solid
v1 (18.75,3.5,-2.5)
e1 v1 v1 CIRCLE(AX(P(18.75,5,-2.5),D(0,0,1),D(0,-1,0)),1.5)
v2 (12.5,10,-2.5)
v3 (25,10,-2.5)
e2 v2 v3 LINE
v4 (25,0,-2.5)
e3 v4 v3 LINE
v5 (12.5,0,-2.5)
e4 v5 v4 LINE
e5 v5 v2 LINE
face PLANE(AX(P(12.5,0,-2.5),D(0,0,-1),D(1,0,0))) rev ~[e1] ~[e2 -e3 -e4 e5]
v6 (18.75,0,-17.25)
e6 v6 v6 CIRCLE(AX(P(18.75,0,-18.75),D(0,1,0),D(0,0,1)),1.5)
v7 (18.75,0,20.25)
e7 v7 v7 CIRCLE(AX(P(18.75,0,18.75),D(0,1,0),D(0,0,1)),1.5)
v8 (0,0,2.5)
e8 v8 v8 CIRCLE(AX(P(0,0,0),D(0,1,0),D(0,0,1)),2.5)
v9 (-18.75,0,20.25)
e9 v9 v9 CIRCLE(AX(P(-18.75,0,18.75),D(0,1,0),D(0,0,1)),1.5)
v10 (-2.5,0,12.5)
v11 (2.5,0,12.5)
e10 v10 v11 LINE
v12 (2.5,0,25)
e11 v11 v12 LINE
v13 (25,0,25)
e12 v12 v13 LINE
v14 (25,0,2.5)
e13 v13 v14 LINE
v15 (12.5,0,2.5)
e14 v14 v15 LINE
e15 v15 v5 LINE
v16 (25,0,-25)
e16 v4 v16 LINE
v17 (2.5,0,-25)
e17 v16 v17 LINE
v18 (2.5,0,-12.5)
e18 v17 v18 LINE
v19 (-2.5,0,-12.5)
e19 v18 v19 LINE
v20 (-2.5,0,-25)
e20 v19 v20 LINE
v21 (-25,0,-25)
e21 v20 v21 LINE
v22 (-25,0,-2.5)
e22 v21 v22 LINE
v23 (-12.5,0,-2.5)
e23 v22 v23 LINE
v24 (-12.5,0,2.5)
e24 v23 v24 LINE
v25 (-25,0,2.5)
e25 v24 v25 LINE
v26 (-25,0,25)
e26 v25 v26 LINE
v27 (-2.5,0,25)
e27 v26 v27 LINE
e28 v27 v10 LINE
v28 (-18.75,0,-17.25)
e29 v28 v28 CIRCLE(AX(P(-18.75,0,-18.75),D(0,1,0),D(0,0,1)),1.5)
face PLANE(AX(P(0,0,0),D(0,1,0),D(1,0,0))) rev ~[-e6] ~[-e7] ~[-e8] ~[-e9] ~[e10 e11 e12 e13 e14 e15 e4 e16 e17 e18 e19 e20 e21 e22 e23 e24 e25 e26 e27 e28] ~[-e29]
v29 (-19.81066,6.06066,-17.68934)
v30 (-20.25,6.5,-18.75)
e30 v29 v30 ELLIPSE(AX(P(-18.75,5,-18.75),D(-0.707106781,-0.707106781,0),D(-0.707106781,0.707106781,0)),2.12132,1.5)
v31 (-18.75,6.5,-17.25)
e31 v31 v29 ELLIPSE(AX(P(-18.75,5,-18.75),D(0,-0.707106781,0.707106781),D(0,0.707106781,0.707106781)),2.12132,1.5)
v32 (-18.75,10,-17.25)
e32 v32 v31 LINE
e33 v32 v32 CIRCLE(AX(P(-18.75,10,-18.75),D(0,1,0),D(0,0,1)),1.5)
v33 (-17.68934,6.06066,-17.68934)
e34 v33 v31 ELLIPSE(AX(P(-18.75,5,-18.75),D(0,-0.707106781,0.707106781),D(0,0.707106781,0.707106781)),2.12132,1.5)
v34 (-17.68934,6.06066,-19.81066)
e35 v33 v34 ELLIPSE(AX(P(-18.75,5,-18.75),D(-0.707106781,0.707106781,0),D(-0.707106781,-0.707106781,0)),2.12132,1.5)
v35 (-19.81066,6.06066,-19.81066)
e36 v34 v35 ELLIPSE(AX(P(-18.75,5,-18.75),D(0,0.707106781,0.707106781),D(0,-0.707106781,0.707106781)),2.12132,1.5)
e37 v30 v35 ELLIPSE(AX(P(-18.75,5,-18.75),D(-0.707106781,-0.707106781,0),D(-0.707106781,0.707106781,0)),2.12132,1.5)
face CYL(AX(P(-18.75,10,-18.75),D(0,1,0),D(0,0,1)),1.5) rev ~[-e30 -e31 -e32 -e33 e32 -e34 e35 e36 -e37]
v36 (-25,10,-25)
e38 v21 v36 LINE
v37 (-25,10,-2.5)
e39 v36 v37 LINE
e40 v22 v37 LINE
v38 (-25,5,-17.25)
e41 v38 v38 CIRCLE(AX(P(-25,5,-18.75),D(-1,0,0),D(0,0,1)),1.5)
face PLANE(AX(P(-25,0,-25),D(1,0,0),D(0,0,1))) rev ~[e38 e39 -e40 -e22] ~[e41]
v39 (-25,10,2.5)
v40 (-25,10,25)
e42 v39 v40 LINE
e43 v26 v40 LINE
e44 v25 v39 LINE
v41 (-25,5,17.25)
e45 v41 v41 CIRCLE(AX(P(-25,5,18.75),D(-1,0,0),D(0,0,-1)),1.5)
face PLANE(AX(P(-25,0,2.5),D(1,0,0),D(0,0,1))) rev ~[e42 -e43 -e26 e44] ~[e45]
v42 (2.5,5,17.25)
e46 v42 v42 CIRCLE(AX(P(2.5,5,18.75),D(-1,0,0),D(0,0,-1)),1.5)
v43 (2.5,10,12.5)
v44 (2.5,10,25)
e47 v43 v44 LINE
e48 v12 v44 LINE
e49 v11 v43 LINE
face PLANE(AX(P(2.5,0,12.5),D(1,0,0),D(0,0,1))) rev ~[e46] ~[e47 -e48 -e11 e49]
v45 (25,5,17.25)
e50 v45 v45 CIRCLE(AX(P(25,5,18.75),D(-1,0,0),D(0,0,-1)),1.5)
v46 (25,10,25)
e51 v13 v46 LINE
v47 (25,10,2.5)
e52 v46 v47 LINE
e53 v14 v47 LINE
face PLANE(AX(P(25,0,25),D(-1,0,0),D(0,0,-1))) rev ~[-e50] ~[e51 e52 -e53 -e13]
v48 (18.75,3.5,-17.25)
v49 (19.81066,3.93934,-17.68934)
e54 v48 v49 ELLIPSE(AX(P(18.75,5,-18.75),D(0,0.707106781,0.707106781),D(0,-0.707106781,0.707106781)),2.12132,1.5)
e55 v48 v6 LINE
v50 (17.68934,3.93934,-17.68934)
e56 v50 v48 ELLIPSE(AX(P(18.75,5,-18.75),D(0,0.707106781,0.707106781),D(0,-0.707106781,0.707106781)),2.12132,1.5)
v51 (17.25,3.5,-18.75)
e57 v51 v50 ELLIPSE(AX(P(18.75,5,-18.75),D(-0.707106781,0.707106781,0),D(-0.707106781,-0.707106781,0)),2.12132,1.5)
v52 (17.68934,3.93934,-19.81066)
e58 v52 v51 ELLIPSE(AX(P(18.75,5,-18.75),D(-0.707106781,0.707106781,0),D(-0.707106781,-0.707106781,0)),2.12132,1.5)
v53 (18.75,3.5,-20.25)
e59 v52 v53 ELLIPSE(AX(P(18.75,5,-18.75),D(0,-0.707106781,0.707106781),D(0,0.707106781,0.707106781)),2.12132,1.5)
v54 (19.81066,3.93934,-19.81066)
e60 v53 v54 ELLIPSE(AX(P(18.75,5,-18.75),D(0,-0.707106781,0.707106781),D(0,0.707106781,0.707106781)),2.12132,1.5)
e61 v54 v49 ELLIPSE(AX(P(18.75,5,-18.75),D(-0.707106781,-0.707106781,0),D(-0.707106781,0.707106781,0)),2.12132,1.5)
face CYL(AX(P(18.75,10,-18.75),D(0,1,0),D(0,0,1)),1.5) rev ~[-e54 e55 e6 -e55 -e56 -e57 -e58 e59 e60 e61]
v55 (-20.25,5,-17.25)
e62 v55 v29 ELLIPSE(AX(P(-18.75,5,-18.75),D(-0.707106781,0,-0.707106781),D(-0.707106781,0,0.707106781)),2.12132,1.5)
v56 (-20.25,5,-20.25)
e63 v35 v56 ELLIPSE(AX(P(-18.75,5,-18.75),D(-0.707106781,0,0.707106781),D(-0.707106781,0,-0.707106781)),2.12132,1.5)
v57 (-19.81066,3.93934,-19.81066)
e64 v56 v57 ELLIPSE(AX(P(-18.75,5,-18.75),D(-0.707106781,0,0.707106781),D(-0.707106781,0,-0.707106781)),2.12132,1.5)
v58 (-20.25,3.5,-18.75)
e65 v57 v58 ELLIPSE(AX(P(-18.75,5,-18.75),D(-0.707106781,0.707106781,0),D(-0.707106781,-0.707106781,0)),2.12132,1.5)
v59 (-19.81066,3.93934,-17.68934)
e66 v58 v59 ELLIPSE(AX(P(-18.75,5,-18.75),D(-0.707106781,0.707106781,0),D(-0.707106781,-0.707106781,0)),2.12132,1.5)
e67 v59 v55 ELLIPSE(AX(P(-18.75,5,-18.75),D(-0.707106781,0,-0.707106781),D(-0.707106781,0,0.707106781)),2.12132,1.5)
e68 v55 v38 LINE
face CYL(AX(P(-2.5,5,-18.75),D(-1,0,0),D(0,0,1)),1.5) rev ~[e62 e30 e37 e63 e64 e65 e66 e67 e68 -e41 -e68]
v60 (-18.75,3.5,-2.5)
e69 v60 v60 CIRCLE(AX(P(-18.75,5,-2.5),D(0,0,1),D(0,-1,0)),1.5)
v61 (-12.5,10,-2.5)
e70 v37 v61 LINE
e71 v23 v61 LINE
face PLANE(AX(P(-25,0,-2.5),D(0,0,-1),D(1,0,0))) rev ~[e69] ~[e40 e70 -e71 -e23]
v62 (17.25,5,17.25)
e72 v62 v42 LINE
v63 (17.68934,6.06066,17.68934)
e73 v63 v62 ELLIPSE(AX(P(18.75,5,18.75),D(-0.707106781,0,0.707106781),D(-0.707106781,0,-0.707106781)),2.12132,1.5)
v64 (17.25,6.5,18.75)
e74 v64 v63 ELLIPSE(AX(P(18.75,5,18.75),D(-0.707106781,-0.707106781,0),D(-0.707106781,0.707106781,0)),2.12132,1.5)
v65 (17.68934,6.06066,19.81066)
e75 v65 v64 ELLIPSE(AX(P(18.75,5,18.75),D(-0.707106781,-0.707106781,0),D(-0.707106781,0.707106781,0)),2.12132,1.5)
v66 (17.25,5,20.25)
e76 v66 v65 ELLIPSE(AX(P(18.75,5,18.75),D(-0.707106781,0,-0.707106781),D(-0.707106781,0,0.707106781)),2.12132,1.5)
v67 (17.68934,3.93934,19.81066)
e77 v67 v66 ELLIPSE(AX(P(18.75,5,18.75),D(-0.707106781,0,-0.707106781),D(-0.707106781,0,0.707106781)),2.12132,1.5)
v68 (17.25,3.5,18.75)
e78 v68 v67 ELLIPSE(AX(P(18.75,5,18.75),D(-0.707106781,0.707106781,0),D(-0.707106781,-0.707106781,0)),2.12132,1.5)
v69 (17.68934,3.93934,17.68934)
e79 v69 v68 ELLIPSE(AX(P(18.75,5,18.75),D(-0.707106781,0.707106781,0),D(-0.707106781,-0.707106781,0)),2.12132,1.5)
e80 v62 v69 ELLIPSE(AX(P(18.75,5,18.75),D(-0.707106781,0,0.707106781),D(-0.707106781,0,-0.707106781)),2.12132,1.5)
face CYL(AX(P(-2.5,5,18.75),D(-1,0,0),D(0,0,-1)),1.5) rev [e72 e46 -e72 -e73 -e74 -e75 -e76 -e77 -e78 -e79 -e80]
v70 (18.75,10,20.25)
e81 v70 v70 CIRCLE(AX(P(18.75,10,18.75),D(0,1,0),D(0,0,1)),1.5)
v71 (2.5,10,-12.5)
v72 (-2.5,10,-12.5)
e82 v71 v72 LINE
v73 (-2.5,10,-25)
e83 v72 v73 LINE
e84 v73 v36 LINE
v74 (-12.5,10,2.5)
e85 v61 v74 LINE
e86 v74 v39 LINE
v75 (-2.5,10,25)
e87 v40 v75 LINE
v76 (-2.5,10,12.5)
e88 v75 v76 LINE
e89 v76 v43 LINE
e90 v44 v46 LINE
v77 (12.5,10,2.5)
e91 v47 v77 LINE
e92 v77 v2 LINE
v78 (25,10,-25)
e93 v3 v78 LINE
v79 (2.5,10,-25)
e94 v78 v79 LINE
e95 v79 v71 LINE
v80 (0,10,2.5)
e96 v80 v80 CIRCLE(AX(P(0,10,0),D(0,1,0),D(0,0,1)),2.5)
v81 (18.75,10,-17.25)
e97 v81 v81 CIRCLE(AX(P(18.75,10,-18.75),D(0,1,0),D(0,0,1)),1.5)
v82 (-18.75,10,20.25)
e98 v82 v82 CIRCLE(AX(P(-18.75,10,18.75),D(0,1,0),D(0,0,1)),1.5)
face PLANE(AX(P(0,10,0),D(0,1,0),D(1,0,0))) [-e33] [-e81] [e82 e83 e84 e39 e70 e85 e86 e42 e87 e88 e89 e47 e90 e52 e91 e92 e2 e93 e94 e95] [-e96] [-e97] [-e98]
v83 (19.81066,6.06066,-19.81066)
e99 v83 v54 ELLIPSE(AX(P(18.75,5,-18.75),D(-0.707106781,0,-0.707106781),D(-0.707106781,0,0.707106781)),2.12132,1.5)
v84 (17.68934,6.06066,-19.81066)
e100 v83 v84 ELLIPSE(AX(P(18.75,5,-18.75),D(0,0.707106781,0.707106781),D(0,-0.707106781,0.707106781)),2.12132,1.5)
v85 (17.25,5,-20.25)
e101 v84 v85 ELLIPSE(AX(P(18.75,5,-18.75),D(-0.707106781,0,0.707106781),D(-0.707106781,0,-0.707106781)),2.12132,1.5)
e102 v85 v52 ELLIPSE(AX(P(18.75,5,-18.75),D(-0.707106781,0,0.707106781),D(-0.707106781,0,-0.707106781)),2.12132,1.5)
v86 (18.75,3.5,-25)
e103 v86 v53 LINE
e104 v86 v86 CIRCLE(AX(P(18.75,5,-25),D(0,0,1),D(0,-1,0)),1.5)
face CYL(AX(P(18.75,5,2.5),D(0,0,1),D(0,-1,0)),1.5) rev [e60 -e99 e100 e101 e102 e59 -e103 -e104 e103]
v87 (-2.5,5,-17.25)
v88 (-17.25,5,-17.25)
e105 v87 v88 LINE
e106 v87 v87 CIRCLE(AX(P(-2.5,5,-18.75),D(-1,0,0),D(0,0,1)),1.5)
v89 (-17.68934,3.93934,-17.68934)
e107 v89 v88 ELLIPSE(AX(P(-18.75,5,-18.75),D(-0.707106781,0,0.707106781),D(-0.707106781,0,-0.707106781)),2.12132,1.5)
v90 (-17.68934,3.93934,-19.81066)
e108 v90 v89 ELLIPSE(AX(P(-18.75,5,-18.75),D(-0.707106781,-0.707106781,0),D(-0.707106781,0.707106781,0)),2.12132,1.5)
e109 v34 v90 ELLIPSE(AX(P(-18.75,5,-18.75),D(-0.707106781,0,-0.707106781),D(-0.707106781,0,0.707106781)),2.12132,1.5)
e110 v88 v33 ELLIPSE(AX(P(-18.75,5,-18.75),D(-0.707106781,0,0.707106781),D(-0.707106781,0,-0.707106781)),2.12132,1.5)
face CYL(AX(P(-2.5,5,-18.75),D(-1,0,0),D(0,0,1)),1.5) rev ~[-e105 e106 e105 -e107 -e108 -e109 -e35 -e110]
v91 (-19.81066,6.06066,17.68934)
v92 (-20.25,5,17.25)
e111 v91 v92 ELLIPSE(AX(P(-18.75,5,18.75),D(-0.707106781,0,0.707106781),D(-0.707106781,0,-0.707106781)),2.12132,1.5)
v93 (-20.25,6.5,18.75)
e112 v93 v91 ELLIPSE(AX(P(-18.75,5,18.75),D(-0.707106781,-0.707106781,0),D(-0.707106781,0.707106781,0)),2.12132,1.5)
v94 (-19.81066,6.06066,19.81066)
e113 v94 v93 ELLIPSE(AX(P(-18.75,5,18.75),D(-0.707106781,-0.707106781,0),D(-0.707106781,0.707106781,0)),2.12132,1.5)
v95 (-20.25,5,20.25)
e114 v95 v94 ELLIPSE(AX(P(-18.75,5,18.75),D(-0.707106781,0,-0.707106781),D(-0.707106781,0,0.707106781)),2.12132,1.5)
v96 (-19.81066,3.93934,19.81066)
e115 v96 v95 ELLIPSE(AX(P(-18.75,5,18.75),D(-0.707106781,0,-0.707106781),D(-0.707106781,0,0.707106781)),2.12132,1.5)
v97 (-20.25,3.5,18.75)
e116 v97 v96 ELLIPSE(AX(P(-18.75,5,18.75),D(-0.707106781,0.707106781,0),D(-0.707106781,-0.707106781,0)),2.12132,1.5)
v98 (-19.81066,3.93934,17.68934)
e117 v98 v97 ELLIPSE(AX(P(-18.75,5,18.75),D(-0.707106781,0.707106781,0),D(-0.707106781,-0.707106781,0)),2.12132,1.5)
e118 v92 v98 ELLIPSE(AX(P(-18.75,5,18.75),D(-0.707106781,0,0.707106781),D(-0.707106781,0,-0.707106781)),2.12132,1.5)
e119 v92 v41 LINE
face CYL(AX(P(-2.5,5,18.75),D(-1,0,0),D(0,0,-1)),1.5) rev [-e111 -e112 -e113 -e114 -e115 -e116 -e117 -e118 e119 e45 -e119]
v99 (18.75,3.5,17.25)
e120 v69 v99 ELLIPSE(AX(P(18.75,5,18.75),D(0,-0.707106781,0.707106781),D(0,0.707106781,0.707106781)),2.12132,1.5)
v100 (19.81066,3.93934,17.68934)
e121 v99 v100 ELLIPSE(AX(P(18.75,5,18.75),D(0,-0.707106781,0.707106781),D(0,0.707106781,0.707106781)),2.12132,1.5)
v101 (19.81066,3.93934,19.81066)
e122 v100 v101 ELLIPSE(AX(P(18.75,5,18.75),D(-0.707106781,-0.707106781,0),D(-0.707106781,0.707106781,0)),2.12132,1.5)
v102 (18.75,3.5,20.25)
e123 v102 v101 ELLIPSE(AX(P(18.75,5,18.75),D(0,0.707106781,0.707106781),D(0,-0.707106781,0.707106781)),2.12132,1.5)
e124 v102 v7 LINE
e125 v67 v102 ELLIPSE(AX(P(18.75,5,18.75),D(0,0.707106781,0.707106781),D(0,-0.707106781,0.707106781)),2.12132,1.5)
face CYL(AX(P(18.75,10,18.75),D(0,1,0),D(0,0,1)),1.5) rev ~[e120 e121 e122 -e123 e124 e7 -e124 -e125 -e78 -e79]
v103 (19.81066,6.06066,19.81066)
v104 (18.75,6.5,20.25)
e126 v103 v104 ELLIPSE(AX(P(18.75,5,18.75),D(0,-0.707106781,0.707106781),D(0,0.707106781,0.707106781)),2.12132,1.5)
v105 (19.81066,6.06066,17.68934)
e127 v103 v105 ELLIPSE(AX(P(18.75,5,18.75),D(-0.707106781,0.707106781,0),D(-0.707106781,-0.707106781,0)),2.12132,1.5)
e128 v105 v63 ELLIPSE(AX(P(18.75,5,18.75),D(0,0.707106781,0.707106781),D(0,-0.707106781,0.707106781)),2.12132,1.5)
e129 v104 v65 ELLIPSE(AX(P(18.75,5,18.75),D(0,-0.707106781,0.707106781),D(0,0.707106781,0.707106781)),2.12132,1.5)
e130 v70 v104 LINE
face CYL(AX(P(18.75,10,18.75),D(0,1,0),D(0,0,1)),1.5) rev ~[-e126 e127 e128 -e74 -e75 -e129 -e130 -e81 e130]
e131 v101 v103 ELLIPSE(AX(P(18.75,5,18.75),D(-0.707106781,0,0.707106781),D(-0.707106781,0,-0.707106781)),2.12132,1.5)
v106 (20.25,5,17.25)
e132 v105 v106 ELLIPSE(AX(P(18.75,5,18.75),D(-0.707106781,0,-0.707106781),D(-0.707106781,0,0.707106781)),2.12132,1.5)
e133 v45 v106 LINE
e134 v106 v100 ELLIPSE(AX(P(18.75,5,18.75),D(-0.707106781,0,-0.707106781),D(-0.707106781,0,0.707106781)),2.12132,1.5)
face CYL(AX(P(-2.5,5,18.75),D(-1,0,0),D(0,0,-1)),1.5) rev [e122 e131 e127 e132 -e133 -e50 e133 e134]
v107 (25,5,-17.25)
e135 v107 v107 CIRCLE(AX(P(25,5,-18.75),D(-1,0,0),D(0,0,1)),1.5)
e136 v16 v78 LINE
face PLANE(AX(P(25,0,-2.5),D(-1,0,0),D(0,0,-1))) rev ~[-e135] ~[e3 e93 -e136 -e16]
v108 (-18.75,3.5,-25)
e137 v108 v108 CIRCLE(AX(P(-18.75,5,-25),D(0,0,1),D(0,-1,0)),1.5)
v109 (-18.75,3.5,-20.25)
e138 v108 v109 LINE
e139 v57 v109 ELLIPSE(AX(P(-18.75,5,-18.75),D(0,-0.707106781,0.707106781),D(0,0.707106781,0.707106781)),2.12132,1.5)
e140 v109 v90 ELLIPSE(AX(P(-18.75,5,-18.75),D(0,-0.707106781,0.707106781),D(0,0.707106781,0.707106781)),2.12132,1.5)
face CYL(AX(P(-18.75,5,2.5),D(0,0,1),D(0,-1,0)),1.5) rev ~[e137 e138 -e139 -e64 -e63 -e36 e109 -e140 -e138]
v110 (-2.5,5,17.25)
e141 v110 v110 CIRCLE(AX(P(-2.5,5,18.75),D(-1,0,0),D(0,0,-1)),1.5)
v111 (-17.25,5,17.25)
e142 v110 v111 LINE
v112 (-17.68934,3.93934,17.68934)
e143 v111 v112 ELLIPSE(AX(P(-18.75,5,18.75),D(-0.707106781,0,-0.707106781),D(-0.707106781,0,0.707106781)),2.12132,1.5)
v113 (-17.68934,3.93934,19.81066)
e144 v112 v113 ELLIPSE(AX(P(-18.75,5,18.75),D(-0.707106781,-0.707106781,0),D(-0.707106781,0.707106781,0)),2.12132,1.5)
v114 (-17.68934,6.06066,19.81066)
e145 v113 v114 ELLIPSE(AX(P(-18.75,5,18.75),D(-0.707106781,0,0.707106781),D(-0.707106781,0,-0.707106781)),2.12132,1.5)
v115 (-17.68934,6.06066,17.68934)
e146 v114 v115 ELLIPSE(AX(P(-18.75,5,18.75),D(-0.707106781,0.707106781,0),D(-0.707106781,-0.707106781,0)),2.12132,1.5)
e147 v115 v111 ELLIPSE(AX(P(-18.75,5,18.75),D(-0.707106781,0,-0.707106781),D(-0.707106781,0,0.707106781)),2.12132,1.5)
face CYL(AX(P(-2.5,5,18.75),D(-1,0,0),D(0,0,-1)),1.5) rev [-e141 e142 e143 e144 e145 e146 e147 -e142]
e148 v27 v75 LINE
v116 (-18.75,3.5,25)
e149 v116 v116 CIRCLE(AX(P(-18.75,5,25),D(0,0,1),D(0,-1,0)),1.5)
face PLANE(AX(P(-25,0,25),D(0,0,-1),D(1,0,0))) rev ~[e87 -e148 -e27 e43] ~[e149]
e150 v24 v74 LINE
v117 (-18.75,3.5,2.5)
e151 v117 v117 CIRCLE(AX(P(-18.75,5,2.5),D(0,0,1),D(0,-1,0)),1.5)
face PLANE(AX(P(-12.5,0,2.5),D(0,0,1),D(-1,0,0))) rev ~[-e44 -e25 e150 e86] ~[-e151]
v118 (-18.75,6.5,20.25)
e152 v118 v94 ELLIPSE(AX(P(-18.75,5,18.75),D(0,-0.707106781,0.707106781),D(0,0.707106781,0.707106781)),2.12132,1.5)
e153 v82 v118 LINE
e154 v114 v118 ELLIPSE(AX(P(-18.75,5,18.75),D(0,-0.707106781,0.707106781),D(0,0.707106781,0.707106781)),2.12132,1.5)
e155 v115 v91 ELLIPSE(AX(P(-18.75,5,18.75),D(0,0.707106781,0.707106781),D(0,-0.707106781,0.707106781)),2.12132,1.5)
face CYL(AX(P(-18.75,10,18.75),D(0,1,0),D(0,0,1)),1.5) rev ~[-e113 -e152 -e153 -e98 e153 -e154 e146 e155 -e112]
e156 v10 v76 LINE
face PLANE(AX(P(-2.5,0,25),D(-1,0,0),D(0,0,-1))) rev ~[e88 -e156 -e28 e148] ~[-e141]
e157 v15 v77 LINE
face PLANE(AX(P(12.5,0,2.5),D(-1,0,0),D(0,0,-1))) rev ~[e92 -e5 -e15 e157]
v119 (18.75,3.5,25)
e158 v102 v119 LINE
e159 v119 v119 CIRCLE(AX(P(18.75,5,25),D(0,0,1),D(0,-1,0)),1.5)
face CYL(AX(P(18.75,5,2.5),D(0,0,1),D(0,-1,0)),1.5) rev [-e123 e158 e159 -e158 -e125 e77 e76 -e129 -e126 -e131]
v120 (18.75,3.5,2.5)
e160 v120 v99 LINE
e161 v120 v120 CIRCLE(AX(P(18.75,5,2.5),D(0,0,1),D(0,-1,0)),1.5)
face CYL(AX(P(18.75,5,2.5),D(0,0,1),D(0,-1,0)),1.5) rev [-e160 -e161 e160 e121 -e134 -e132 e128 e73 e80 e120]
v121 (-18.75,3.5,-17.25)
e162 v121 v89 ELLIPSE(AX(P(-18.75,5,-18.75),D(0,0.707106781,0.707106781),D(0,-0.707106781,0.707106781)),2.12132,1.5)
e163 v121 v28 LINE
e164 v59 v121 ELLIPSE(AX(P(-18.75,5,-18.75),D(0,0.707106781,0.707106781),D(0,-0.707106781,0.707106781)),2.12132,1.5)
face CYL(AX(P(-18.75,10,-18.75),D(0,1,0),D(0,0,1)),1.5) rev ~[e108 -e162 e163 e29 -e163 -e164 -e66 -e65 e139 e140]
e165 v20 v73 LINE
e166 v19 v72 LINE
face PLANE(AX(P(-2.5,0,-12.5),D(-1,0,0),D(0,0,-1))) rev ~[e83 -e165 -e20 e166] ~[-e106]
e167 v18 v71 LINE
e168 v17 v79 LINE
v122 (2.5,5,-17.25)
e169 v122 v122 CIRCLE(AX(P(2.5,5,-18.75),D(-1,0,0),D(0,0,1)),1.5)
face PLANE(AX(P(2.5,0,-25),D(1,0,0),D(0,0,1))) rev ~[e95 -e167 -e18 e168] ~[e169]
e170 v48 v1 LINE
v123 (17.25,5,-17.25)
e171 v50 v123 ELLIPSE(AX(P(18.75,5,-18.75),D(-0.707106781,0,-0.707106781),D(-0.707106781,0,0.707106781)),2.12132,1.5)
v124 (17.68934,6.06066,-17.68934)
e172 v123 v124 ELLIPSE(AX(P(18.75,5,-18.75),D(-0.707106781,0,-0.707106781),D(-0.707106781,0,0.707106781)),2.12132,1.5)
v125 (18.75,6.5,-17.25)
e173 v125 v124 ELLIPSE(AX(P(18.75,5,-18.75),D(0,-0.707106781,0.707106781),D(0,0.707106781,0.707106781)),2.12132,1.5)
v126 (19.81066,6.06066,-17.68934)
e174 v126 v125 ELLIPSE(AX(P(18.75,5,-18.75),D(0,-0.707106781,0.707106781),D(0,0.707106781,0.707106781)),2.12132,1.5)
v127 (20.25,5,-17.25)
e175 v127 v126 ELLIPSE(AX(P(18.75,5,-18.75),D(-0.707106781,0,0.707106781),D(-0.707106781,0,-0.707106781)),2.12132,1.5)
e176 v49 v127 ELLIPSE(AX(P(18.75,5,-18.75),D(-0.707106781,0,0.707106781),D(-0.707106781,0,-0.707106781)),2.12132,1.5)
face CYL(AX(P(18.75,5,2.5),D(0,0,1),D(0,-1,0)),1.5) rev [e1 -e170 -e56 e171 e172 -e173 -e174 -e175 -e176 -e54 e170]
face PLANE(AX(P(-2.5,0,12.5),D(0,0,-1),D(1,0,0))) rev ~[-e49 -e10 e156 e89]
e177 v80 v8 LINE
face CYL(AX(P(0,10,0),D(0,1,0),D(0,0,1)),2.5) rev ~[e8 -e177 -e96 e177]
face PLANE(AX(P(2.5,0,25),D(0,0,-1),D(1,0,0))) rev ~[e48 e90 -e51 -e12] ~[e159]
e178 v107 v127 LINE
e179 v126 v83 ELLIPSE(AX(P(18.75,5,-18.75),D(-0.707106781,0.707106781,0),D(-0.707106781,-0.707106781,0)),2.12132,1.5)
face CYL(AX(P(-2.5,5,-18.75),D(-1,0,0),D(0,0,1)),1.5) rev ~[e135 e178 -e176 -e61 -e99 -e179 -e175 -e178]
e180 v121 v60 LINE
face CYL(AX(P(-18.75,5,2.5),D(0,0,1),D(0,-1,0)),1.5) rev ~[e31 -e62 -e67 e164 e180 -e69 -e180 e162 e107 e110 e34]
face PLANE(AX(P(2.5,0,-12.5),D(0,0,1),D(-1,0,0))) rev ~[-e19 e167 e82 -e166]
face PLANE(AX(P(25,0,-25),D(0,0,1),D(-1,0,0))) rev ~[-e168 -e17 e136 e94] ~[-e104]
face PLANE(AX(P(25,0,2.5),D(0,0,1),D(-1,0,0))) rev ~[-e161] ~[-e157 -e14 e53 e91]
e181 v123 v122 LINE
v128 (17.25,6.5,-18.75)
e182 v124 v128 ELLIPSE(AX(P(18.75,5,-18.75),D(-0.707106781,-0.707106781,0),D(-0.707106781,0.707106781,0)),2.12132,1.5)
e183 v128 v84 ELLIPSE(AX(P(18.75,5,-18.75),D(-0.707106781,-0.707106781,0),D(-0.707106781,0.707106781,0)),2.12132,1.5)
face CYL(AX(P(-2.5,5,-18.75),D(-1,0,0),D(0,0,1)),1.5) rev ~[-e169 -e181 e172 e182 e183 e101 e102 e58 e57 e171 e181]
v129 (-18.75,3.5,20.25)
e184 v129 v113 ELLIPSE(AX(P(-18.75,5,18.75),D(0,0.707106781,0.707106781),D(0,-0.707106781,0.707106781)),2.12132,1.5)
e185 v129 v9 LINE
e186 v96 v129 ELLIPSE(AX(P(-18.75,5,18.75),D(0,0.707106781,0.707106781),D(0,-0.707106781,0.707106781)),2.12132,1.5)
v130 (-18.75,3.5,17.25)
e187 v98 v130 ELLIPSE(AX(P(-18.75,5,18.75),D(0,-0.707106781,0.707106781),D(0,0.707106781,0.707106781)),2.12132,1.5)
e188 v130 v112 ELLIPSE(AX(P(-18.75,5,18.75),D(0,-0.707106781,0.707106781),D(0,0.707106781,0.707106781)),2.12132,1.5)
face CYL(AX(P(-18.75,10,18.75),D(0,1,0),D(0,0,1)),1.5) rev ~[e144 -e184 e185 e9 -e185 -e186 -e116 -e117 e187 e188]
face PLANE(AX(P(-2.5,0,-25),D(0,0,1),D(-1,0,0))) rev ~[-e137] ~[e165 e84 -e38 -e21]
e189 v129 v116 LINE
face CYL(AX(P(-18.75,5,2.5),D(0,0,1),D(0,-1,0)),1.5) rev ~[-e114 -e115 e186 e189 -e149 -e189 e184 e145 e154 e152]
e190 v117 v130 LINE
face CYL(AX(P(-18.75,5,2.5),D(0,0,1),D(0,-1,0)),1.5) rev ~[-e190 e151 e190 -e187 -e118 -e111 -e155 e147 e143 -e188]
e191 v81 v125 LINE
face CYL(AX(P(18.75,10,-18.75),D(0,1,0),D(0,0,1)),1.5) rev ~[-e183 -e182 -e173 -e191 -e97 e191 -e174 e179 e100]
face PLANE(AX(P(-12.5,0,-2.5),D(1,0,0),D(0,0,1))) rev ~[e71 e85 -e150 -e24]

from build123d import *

# Parameters (mm, degrees)
BOSS_EXTRUDE1_DEPTH = 10
SKETCH3_R           = 1.5
CUT_EXTRUDE1_DEPTH  = 39.487010796
SKETCH4_R           = 1.5
CUT_EXTRUDE2_DEPTH  = 39.487010796
SKETCH5_R           = 2.5
CUT_EXTRUDE3_DEPTH  = 10
SKETCH9_R           = 1.5
CUT_EXTRUDE4_DEPTH  = 37.742346142


with BuildPart() as part:
    # Sketch1 → Boss-Extrude1 (new body)
    with BuildSketch(Plane(origin=(0, 0, 0), x_dir=(1, 0, 0), z_dir=(0, 1, 0))):
        Polygon((-2.5, 12.5), (-2.5, 25), (-25, 25), (-25, 2.5), (-12.5, 2.5), (-12.5, -2.5), (-25, -2.5), (-25, -25), (-2.5, -25), (-2.5, -12.5), (2.5, -12.5), (2.5, -25), (25, -25), (25, -2.5), (12.5, -2.5), (12.5, 2.5), (25, 2.5), (25, 25), (2.5, 25), (2.5, 12.5), align=None)
    extrude(amount=BOSS_EXTRUDE1_DEPTH)

    # Sketch3 → Cut-Extrude1 (cut, symmetric)
    with BuildSketch(Plane.ZY.offset(2.5)):
        with Locations((-18.75, 5)):
            Circle(SKETCH3_R)
    cut_extrude1 = extrude(amount=CUT_EXTRUDE1_DEPTH, both=True, mode=Mode.SUBTRACT)

    # Mirror1: Cut-Extrude1 across plane
    add(cut_extrude1.mirror(Plane.XY), mode=Mode.SUBTRACT)

    # Sketch4 → Cut-Extrude2 (cut, symmetric)
    with BuildSketch(Plane.XY.offset(2.5)):
        with Locations(Location((-18.75, 5, 0), (0, 0, 270))):
            Circle(SKETCH4_R)
    cut_extrude2 = extrude(amount=CUT_EXTRUDE2_DEPTH, both=True, mode=Mode.SUBTRACT)

    # Mirror2: Cut-Extrude2 across plane
    add(cut_extrude2.mirror(Plane(origin=(0, 0, 0), x_dir=(0, 0, 1), z_dir=(1, 0, 0))), mode=Mode.SUBTRACT)

    # Sketch5 → Cut-Extrude3 (cut)
    with BuildSketch(Plane(origin=(0, 10, 0), x_dir=(1, 0, 0), z_dir=(0, 1, 0))):
        with Locations(Location((0, 0, 0), (0, 0, 270))):
            Circle(SKETCH5_R)
    extrude(amount=-CUT_EXTRUDE3_DEPTH, mode=Mode.SUBTRACT)

    # Sketch9 → Cut-Extrude4 (cut, through all)
    with BuildSketch(Plane(origin=(0, 10, 0), x_dir=(1, 0, 0), z_dir=(0, 1, 0))):
        with Locations(Location((-18.75, 18.75, 0), (0, 0, 270))):
            Circle(SKETCH9_R)
        with Locations(Location((18.75, 18.75, 0), (0, 0, 270))):
            Circle(SKETCH9_R)
        with Locations(Location((18.75, -18.75, 0), (0, 0, 270))):
            Circle(SKETCH9_R)
        with Locations(Location((-18.75, -18.75, 0), (0, 0, 270))):
            Circle(SKETCH9_R)
    extrude(amount=-CUT_EXTRUDE4_DEPTH, mode=Mode.SUBTRACT)


solid = part.part
